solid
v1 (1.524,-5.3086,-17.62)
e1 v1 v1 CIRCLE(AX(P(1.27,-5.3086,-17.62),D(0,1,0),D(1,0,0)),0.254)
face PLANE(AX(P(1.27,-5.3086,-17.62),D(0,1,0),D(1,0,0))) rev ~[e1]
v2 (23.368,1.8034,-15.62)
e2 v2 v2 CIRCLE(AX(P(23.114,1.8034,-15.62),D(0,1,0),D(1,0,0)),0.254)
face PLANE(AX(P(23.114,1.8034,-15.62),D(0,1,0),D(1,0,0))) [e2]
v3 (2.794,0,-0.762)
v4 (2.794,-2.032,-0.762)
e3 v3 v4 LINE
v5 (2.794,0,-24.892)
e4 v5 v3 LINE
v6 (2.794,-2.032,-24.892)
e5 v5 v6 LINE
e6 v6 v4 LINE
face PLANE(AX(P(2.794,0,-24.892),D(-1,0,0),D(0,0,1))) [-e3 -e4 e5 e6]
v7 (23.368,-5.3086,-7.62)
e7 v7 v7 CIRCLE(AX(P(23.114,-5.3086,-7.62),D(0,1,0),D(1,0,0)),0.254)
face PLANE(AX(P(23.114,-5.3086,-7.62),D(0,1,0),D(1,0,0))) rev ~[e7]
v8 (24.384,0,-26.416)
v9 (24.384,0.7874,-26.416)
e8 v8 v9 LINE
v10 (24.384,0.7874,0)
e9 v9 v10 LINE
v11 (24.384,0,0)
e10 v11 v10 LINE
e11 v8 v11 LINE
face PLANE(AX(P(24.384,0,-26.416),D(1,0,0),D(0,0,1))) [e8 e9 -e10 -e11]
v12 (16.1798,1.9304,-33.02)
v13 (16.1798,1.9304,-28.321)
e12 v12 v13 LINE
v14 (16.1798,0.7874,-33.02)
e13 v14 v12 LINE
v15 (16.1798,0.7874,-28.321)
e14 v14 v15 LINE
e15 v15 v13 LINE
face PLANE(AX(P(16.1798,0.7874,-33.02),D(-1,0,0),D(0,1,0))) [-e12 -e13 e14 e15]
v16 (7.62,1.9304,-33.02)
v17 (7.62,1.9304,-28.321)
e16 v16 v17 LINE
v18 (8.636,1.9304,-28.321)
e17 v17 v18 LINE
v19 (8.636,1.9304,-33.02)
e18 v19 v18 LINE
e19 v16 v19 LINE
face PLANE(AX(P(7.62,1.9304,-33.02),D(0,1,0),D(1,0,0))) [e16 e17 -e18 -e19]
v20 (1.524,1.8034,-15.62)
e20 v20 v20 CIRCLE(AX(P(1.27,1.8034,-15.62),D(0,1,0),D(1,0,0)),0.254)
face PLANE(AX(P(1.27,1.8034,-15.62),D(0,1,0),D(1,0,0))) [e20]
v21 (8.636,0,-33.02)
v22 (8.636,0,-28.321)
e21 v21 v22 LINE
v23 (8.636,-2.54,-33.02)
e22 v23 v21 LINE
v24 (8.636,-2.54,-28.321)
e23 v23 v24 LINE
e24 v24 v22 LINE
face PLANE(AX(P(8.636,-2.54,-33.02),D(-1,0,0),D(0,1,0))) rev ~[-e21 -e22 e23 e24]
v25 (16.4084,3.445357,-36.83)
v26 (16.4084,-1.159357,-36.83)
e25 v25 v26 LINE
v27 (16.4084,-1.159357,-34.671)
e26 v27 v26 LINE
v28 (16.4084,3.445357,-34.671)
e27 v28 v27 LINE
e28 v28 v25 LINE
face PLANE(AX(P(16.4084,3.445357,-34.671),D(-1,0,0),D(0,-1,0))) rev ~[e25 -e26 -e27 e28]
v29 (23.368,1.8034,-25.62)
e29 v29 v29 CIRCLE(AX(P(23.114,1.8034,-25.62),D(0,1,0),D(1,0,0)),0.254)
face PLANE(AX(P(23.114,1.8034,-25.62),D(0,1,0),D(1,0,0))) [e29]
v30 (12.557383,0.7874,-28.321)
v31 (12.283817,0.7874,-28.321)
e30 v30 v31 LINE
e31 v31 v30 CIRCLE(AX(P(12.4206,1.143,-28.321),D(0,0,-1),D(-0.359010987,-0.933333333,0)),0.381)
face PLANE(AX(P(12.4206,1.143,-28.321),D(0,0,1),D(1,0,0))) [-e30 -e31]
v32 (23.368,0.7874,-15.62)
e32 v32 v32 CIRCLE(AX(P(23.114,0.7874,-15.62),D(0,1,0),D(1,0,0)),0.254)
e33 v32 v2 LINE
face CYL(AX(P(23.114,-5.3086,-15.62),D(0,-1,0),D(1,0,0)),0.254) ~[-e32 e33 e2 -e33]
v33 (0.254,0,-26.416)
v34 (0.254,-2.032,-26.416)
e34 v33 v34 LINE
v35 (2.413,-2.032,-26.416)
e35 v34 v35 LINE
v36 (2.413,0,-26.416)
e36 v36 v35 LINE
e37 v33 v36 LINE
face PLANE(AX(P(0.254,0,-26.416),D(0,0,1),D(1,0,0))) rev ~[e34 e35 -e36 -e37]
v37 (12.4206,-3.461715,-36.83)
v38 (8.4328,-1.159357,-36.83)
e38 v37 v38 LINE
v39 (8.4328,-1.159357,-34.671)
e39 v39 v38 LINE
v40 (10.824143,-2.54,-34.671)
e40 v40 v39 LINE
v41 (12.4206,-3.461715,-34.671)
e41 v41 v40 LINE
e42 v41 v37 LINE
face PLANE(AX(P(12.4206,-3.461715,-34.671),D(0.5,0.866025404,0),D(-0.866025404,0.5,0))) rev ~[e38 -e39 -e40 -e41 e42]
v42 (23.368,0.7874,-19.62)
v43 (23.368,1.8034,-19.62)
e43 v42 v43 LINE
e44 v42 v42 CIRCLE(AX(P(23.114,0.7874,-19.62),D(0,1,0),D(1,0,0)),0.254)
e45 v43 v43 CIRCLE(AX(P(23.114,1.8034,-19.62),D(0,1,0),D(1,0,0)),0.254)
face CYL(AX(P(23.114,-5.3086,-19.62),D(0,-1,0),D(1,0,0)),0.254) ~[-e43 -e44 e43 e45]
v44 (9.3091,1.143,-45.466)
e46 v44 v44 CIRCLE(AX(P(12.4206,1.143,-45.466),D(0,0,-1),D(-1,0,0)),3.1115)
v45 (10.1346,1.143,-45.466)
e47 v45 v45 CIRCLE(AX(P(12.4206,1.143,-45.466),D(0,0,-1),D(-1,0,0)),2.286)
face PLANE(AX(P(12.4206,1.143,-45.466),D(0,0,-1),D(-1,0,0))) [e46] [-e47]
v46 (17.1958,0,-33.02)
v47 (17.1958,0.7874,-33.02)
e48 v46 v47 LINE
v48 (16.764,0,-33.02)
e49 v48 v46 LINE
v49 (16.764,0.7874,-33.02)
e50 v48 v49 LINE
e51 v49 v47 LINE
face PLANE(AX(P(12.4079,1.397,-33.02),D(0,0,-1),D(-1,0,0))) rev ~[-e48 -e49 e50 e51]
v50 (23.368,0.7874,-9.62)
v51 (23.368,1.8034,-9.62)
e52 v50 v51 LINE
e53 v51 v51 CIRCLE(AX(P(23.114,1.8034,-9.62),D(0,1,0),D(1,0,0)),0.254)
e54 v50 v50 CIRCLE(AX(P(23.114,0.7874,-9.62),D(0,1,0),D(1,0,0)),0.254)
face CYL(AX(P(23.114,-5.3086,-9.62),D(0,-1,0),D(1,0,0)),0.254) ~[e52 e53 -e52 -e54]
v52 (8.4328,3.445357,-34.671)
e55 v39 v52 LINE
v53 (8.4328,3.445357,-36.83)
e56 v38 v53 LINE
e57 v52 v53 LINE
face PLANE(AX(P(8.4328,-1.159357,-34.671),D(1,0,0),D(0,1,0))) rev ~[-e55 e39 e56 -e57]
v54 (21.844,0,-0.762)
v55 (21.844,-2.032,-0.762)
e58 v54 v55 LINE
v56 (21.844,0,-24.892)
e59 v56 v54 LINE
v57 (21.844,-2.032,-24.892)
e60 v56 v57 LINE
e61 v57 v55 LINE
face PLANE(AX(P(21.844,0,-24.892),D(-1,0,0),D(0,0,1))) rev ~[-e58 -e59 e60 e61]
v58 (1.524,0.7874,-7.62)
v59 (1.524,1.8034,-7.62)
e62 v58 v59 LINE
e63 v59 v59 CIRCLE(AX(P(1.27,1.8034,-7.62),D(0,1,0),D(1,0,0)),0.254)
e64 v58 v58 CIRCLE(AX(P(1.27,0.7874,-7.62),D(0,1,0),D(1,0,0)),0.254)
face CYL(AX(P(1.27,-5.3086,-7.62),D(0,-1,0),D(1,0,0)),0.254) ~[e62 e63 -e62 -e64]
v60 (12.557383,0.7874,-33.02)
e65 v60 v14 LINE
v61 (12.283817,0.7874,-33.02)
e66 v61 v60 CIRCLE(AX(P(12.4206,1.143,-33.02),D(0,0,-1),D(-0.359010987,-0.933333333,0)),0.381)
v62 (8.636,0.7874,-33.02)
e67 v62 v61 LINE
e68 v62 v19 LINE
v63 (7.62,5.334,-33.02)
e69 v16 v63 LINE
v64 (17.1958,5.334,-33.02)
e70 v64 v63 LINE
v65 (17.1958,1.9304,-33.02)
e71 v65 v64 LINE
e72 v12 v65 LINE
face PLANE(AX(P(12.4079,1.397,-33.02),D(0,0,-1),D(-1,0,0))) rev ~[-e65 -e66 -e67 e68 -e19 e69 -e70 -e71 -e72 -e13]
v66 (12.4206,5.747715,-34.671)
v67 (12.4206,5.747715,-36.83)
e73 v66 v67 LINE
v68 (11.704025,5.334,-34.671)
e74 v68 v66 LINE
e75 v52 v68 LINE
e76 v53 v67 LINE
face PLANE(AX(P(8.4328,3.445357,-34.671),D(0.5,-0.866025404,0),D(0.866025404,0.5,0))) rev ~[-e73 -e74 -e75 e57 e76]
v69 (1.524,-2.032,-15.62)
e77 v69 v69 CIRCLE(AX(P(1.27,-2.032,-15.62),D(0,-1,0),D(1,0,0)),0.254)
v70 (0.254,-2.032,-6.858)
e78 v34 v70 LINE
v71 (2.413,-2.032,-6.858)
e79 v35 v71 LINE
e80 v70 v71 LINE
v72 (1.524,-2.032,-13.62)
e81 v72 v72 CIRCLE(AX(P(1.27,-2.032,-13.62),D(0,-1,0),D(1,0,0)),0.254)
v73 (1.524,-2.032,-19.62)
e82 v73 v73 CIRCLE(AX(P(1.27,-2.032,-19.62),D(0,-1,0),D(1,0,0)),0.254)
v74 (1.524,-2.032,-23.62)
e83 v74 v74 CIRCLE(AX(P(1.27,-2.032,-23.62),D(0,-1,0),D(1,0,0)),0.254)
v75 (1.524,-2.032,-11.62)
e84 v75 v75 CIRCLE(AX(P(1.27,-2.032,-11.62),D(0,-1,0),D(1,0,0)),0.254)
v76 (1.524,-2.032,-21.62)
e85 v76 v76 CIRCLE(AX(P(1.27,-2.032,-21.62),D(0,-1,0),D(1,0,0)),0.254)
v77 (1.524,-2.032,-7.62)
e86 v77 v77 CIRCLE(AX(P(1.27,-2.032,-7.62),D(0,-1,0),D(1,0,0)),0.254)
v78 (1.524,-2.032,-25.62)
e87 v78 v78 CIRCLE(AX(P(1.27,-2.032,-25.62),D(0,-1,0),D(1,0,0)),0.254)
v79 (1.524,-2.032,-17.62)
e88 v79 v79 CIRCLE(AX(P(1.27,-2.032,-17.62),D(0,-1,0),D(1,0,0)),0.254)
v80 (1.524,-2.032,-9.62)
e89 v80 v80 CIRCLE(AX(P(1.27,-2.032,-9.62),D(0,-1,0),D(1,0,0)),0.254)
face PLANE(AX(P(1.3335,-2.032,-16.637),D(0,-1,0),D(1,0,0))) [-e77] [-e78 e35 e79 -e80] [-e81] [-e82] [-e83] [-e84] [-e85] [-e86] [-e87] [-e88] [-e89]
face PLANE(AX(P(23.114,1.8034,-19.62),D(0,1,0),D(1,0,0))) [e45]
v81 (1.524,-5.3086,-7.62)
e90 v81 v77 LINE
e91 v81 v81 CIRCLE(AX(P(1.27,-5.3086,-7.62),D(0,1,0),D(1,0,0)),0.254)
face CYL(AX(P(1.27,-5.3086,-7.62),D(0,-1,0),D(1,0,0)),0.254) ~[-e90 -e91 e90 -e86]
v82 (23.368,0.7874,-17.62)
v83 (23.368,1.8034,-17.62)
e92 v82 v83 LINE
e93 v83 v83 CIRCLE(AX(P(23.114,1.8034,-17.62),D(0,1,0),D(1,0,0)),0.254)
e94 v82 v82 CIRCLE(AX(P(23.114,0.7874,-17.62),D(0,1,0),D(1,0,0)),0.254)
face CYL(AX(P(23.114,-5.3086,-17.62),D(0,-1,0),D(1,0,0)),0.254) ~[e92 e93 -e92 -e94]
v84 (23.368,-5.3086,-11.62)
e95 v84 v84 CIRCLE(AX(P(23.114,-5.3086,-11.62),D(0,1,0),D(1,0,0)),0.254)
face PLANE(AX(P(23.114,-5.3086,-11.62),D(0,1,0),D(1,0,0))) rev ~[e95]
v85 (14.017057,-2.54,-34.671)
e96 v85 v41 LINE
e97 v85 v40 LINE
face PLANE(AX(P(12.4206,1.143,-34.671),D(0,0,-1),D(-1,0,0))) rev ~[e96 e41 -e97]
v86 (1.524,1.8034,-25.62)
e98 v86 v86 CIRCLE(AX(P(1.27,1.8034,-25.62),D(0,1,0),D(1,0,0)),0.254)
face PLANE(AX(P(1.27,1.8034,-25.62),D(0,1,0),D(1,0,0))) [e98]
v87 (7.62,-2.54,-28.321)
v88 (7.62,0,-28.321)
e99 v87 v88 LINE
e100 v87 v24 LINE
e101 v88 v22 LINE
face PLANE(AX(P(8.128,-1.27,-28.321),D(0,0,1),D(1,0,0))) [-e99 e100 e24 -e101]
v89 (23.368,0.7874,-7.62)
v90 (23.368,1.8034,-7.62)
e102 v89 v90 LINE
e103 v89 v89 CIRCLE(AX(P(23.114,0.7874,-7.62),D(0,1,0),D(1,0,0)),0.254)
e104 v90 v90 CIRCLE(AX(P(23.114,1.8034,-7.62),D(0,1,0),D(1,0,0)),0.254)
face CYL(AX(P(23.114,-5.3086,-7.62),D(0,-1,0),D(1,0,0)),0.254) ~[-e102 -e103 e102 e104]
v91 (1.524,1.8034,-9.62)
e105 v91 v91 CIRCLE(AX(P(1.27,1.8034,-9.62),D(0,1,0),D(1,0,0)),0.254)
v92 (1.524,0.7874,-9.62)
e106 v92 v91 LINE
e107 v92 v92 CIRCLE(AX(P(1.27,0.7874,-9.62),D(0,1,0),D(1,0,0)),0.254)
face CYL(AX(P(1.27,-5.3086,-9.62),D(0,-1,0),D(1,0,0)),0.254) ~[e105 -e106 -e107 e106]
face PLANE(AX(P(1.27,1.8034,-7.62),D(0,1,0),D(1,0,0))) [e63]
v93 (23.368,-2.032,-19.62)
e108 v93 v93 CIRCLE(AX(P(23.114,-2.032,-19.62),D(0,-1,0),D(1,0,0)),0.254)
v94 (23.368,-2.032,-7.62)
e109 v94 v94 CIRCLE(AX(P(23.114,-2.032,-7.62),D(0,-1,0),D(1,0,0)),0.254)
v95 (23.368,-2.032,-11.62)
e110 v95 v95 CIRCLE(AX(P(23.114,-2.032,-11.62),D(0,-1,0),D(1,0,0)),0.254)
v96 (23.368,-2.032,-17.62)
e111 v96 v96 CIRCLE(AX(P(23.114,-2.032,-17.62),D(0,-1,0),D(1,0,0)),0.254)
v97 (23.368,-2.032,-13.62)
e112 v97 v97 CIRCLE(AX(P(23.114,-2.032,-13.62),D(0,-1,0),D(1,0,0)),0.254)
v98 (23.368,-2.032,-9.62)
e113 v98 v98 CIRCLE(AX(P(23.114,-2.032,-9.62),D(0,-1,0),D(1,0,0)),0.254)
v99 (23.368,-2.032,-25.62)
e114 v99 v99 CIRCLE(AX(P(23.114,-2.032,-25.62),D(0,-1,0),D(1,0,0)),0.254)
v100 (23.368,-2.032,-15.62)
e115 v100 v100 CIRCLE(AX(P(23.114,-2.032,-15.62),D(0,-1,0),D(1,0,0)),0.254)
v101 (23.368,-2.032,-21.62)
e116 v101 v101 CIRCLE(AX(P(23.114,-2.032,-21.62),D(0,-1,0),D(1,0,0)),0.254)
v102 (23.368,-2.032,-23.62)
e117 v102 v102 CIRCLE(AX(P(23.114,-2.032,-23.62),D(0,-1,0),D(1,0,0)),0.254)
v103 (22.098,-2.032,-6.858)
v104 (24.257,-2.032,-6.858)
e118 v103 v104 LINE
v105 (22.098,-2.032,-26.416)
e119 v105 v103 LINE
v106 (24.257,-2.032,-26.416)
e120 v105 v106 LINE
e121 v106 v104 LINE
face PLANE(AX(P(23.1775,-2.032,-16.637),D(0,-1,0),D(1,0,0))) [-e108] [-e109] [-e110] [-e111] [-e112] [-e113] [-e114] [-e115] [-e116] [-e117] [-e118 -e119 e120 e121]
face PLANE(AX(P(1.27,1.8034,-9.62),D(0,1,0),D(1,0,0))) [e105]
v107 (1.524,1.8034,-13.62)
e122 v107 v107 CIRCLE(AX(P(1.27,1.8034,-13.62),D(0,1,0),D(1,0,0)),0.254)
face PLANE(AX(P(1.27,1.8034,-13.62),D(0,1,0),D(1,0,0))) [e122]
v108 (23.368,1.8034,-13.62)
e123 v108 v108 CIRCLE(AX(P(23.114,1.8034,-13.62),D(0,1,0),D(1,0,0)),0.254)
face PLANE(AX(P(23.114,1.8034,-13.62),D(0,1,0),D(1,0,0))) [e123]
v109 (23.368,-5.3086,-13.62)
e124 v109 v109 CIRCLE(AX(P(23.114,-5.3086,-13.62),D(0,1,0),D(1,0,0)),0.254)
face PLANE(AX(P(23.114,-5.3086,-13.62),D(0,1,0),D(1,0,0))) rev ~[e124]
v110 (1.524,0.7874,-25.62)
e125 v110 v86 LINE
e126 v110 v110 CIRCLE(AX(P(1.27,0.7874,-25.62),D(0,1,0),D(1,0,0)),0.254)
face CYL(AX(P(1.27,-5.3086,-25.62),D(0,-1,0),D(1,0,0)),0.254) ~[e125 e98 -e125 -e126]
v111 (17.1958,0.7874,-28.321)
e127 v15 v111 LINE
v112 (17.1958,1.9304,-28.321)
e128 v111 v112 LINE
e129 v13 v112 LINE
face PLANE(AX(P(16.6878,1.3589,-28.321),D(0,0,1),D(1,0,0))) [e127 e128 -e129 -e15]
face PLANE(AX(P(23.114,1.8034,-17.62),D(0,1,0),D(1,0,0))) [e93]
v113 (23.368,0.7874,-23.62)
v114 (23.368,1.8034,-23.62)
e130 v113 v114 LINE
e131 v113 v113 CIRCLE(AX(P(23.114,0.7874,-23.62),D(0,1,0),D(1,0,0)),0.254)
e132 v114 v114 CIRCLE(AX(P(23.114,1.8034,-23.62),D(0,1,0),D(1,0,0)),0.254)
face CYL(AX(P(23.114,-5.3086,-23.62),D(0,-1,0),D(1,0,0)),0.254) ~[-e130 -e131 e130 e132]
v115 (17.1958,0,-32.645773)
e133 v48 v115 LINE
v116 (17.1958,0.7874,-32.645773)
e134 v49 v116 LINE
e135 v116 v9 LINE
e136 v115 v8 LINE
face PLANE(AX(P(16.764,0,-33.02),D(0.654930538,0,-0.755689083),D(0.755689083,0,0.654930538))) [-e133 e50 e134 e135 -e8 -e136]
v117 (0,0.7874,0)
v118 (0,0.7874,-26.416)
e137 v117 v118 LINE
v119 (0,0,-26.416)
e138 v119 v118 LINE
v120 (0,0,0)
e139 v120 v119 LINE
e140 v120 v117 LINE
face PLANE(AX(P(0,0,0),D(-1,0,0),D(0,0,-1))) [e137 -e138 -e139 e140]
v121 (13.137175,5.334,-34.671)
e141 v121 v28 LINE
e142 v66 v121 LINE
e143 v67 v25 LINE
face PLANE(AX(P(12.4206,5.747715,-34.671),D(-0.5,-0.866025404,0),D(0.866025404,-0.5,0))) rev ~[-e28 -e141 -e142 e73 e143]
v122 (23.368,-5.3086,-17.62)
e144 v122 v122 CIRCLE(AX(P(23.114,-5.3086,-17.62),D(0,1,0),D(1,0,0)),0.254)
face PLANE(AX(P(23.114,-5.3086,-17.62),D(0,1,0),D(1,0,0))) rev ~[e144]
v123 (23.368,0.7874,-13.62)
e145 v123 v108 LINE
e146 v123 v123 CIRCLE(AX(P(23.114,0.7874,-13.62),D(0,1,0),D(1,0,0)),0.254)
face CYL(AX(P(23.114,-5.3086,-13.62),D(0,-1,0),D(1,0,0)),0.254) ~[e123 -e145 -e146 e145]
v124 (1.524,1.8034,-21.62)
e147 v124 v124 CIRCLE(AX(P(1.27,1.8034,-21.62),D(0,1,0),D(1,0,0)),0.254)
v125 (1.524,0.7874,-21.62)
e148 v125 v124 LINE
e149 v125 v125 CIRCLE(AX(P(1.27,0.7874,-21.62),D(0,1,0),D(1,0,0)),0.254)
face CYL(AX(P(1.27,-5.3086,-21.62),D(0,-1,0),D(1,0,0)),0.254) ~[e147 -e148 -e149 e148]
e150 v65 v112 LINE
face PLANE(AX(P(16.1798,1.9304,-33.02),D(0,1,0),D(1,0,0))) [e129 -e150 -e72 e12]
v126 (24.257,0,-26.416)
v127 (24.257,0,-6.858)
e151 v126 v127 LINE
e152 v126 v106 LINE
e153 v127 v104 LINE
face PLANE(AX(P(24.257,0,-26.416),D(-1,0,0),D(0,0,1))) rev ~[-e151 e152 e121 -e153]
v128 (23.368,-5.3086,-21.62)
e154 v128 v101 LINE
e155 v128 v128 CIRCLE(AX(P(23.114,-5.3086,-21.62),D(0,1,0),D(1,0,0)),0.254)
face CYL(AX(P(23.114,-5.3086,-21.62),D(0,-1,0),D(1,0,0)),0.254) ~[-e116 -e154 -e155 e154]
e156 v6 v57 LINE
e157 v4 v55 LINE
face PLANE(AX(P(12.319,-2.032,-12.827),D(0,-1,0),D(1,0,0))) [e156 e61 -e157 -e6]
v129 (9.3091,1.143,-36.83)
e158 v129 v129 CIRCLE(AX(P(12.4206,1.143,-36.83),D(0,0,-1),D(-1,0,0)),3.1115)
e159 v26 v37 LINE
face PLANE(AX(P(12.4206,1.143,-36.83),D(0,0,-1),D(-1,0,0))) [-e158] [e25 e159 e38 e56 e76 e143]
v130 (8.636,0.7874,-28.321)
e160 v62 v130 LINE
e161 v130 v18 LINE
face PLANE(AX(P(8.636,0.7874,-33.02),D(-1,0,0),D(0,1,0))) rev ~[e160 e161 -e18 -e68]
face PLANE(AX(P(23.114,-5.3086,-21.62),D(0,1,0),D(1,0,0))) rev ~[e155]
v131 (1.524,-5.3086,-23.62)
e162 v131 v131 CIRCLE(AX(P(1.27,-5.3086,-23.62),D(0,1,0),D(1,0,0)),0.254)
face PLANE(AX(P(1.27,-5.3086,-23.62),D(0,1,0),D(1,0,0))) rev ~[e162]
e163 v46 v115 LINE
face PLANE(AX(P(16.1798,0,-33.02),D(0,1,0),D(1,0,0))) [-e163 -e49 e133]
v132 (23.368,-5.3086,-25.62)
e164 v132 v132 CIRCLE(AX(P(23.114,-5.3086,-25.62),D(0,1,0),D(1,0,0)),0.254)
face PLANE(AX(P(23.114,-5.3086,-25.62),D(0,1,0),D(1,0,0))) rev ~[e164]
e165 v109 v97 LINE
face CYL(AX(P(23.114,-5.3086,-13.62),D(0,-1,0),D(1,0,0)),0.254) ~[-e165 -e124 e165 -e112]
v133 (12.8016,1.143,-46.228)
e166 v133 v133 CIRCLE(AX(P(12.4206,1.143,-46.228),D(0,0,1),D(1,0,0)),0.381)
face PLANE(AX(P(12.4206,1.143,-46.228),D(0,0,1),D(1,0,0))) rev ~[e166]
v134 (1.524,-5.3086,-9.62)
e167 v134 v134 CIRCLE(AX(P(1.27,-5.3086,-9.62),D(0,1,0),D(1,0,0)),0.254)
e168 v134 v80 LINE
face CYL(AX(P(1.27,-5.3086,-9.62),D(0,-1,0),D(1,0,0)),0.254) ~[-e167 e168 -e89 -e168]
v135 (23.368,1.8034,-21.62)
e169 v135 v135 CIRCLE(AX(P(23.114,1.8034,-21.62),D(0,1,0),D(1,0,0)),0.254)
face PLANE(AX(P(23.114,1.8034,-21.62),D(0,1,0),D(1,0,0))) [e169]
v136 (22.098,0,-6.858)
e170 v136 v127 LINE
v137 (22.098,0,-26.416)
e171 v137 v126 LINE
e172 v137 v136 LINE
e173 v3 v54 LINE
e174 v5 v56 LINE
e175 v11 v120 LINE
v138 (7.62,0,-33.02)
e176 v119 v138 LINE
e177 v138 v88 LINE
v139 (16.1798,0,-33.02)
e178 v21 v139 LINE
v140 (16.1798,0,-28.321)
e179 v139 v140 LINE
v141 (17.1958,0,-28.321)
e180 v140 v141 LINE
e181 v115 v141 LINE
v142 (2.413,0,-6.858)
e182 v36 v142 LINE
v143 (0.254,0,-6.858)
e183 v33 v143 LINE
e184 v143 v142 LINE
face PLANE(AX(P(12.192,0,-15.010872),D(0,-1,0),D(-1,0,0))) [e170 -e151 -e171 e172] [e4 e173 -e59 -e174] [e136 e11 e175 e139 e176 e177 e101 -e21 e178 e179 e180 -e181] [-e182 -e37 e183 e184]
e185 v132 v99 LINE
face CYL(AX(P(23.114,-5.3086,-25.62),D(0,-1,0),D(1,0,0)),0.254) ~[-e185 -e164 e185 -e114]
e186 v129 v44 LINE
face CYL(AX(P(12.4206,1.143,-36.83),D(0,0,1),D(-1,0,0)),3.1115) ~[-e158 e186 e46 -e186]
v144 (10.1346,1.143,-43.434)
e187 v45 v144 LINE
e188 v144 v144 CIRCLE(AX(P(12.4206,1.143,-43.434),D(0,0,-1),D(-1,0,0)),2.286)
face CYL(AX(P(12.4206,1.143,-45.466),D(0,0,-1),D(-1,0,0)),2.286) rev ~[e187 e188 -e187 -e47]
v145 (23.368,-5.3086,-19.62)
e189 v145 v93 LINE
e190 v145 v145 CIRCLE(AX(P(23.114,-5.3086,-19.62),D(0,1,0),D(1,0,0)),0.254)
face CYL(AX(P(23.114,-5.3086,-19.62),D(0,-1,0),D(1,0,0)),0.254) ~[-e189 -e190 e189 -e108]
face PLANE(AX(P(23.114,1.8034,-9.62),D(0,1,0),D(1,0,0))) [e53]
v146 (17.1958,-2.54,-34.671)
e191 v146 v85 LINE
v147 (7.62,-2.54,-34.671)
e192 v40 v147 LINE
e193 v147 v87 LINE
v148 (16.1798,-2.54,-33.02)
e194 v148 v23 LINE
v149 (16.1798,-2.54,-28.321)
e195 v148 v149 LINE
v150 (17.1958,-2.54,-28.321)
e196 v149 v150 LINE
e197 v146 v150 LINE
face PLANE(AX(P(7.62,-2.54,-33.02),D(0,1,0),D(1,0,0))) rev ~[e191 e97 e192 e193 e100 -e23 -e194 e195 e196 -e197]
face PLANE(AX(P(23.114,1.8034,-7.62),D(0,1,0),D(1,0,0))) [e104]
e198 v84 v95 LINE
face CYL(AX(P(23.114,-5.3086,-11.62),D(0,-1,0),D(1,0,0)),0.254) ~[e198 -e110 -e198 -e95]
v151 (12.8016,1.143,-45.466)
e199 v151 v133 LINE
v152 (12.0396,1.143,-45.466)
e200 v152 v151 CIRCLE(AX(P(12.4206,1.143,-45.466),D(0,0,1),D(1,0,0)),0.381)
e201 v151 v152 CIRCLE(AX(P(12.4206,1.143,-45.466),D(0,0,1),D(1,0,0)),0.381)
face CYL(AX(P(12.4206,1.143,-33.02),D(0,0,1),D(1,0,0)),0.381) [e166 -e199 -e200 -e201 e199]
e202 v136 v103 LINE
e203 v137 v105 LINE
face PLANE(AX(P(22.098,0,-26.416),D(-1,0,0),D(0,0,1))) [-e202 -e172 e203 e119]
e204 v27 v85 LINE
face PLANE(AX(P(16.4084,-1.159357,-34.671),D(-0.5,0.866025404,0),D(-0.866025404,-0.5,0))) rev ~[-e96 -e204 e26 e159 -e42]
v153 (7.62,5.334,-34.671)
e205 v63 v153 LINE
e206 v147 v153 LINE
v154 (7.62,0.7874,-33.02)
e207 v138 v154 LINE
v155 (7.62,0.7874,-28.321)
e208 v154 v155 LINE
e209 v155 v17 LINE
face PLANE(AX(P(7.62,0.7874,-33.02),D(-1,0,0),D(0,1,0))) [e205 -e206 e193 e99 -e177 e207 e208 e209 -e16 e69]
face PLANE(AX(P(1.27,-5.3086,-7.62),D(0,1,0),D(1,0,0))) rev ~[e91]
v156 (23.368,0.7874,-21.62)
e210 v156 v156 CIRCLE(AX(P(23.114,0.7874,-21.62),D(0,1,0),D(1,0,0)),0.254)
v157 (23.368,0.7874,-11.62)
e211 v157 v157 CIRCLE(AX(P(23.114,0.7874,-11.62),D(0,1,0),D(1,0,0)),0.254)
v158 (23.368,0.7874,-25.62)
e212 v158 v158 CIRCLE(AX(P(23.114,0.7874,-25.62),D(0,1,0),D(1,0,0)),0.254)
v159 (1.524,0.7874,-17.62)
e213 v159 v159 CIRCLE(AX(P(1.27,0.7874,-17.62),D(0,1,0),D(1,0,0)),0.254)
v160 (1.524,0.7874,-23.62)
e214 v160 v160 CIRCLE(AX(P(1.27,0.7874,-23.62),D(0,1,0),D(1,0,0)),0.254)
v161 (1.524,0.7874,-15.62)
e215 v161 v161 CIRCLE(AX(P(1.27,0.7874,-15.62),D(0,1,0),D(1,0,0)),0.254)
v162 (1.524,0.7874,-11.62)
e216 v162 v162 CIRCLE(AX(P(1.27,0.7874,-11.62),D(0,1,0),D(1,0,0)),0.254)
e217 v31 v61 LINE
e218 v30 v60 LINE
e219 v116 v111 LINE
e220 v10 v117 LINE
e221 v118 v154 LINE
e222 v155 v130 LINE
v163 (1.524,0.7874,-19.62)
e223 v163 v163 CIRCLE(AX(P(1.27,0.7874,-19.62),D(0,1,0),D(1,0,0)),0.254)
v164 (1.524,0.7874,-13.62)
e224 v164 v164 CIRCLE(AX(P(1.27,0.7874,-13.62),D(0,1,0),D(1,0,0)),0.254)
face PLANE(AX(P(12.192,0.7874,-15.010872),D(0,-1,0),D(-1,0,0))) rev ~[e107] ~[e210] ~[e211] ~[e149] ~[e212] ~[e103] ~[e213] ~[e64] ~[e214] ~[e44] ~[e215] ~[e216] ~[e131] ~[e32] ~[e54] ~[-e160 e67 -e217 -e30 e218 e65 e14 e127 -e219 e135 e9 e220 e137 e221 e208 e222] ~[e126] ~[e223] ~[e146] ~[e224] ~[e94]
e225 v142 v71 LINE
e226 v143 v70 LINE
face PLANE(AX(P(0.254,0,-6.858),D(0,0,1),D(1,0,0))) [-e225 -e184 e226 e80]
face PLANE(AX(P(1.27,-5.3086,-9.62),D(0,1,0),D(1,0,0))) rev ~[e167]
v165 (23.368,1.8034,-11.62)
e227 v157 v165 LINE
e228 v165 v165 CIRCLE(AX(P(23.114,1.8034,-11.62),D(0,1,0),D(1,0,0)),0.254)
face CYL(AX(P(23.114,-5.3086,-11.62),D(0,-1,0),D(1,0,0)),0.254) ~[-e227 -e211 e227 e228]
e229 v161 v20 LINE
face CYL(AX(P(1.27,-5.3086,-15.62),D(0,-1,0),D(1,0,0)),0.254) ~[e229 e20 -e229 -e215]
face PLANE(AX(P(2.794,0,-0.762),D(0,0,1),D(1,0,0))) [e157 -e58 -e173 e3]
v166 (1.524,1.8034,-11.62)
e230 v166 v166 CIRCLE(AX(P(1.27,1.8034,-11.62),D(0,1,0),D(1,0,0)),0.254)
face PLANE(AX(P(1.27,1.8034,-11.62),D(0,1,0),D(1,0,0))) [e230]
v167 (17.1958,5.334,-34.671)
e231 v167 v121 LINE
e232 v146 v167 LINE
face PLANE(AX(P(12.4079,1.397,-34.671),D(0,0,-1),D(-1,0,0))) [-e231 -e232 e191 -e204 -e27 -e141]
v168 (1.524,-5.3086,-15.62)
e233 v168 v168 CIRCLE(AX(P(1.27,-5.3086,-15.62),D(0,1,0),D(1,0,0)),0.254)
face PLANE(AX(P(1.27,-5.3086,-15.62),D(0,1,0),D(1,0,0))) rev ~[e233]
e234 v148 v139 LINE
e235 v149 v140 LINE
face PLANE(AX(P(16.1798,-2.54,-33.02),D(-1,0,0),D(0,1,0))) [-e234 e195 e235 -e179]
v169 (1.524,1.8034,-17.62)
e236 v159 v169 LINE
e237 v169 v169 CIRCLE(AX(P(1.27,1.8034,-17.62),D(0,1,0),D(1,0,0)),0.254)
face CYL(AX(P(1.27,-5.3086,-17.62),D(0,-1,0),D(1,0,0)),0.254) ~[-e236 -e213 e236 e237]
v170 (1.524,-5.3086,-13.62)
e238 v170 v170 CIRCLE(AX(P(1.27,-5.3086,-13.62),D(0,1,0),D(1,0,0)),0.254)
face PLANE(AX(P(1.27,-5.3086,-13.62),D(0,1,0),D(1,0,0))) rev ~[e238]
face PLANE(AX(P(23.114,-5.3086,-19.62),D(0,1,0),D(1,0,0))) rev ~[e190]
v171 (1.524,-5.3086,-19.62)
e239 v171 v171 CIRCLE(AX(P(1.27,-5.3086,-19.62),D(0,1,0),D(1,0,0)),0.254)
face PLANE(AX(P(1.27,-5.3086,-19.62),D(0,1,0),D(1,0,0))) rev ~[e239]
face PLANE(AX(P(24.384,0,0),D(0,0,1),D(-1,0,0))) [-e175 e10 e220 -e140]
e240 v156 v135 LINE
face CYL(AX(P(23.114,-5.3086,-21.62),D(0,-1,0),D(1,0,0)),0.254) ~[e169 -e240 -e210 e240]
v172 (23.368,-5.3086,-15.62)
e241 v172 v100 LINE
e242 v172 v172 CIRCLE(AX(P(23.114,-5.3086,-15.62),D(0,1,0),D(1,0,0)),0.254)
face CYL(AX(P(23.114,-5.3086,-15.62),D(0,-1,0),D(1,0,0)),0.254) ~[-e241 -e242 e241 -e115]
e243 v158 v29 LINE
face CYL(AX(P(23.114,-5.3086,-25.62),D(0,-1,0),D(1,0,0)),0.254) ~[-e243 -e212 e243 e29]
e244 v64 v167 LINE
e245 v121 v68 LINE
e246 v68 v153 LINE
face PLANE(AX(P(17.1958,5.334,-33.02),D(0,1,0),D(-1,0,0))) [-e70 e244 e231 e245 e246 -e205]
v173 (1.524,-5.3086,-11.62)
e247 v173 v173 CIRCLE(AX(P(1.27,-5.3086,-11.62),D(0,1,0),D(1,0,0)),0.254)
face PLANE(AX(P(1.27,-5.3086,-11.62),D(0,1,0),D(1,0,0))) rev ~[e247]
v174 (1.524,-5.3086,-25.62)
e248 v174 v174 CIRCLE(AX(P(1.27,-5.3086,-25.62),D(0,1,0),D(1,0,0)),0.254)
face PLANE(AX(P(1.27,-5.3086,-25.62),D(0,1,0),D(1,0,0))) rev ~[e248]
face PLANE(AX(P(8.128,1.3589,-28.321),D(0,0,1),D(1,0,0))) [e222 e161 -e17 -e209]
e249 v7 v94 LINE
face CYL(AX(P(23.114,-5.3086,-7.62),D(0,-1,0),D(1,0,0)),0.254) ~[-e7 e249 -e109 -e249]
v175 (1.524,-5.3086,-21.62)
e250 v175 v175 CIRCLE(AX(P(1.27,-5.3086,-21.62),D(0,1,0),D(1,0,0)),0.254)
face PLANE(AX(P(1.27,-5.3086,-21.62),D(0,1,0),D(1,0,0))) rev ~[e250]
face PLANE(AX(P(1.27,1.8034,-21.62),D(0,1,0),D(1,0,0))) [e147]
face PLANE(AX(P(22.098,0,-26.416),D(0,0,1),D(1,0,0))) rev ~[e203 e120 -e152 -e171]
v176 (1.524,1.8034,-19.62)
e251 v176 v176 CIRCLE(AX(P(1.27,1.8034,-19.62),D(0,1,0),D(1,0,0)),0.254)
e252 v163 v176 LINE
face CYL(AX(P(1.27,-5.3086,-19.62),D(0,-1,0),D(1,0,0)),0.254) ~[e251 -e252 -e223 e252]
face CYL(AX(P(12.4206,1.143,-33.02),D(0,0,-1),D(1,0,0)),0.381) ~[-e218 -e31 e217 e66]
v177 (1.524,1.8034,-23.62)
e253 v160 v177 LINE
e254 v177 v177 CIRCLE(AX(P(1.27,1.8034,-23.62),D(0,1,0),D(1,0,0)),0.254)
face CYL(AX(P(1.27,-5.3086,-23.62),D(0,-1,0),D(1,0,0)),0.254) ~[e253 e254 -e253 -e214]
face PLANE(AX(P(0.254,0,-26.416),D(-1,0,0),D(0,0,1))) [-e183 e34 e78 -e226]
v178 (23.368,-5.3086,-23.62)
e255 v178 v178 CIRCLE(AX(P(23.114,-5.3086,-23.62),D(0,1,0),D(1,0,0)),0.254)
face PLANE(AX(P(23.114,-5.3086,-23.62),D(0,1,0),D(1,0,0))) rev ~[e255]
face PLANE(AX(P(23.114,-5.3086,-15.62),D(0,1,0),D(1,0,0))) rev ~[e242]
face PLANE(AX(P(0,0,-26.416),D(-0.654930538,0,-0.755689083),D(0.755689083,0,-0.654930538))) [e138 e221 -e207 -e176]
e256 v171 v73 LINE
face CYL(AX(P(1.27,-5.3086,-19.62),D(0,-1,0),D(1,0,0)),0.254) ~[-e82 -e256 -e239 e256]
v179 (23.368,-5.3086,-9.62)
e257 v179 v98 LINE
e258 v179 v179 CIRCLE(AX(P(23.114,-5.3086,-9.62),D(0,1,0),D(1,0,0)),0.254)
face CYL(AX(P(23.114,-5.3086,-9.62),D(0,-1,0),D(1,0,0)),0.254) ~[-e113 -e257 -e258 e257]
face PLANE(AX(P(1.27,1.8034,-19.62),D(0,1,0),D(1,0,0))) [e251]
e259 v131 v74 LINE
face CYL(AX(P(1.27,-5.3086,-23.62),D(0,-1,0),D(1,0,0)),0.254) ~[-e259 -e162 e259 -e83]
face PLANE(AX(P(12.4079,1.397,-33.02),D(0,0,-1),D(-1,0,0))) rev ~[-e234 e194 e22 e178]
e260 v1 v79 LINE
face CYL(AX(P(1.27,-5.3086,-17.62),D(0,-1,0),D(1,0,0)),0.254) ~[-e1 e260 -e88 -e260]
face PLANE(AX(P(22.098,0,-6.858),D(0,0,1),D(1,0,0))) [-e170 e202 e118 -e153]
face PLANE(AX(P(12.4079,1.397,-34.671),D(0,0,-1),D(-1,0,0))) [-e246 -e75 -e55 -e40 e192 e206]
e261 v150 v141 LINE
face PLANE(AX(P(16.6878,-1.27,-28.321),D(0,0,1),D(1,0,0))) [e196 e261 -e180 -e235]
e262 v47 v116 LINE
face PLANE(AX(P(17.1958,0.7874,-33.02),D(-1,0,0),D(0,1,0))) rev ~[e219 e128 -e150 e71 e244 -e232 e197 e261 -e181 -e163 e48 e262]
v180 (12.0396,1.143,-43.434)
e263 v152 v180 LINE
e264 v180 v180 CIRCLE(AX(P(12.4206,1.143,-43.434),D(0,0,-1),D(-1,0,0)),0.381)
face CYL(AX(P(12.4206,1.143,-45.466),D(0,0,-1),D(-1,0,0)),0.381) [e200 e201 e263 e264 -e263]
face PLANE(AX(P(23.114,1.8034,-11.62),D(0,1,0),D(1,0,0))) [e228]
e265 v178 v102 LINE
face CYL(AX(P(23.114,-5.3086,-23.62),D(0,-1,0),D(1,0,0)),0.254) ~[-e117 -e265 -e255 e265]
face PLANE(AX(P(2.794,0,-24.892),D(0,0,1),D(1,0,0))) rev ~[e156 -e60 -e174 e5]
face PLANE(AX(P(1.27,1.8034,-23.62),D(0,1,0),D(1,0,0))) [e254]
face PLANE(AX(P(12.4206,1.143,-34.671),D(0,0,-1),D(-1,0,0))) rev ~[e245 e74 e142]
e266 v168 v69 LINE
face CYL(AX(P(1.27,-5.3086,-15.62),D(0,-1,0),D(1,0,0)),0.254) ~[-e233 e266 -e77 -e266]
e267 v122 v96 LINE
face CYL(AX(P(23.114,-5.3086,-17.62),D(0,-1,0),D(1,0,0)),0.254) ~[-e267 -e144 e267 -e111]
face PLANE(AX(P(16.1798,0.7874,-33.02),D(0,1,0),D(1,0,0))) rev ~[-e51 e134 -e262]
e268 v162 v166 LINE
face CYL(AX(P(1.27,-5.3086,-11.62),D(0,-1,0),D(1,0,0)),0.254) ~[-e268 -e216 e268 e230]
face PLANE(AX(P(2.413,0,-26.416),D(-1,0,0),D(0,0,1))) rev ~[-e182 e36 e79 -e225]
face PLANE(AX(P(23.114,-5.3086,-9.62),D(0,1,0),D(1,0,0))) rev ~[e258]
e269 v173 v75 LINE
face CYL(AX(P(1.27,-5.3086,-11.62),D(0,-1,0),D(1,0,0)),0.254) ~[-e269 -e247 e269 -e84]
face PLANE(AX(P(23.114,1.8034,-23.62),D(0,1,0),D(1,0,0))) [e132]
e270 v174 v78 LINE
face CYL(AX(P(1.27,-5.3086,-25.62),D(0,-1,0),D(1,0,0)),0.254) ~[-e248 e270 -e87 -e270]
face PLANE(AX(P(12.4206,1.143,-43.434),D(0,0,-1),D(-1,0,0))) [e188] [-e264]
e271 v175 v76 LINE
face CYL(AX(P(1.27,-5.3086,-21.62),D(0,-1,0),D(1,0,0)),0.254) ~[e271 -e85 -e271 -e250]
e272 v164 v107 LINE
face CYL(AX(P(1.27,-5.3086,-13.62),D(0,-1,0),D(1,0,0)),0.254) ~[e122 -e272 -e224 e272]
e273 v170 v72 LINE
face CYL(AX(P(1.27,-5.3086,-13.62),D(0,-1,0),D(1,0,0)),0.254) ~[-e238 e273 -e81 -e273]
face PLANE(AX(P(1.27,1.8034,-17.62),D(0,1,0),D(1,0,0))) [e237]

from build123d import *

# Parameters (mm, degrees)
BASE_PCB_DEPTH                      = 0.7874
SKETCH2_R                           = 0.254
HEADER_HOLE_DEPTH                   = 1.7874
F_2MM_HEADER_PATTERN_COUNT          = 10
F_2MM_HEADER_PATTERN_PITCH          = 2
F_2MM_HEADER_PATTERN_COUNT_DIR2     = 2
F_2MM_HEADER_PATTERN_PITCH_DIR2     = 21.844
SKETCH3_W                           = 19.05
SKETCH3_H                           = 24.13
WIRELESS_MODULE_DEPTH               = 2.032
HEADER_START                        = -6.096
SKETCH12_R                          = 0.254
HEADER_PIN_DEPTH                    = 7.112
F_2MM_HEADER_PIN_PATTERN_COUNT      = 10
F_2MM_HEADER_PIN_PATTERN_PITCH      = 2
F_2MM_HEADER_PIN_PATTERN_COUNT_DIR2 = 2
F_2MM_HEADER_PIN_PATTERN_PITCH_DIR2 = 21.844
SKETCH13_W                          = 2.159
SKETCH13_H                          = 19.558
HEADER_BOSS_DEPTH                   = 2.032
HEADER_BOSS_PATTERN_COUNT           = 2
HEADER_BOSS_PATTERN_PITCH           = 21.844
SKETCH4_W                           = 9.5758
SKETCH4_H                           = 7.874
SMA_BASE_DEPTH                      = 1.651
SKETCH5_W                           = 1.016
SKETCH5_H                           = 2.54
SMA_PRONGS_BOTTOM_DEPTH             = 4.699
SKETCH6_W                           = 1.016
SKETCH6_H                           = 1.143
SMA_PRONGS_TOP_DEPTH                = 4.699
SKETCH7_R                           = 0.381
SMA_CENTER_PIN_DEPTH                = 4.699
SMA_CENTER_PIN_DEPTH_BACK           = 13.208
SMA_NUT_DEPTH                       = 2.159
SKETCH10_R                          = 3.1115
RPSMA_BARREL_DEPTH                  = 8.636
SKETCH11_R                          = 2.286
SKETCH11_R_2                        = 0.381
CUT_EXTRUDE4_DEPTH                  = 2.032


with BuildPart() as part:
    # Sketch1 → Base PCB (new body)
    with BuildSketch(Plane(origin=(0, 0, 0), x_dir=(1, 0, 0), z_dir=(0, 1, 0))):
        Polygon((0, 26.416), (7.62, 33.02), (16.764, 33.02), (24.384, 26.416), (24.384, 0), (0, 0), align=None)
    extrude(amount=BASE_PCB_DEPTH)

    # Sketch2 → Header Hole (cut, through all)
    with BuildSketch(Plane(origin=(0, 0.7874, 0), x_dir=(1, 0, 0), z_dir=(0, 1, 0))):
        with Locations((1.27, 7.62)):
            Circle(SKETCH2_R)
    header_hole = extrude(amount=-HEADER_HOLE_DEPTH, mode=Mode.SUBTRACT)

    # 2mm Header pattern: Header Hole 10 × 2
    with Locations(*[(j * F_2MM_HEADER_PATTERN_PITCH_DIR2, 0, -i * F_2MM_HEADER_PATTERN_PITCH) for i in range(F_2MM_HEADER_PATTERN_COUNT) for j in range(F_2MM_HEADER_PATTERN_COUNT_DIR2) if (i, j) != (0, 0)]):
        add(header_hole, mode=Mode.SUBTRACT)

    # Sketch3 → Wireless Module (add)
    with BuildSketch(Plane.XZ):
        with Locations((12.319, -12.827)):
            Rectangle(SKETCH3_W, SKETCH3_H)
    extrude(amount=WIRELESS_MODULE_DEPTH)

    # Sketch12 → Header Pin (add)
    with BuildSketch(Plane(origin=(0, 0.7874, 0), x_dir=(1, 0, 0), z_dir=(0, 1, 0)).offset(HEADER_START)):
        with Locations((1.27, 7.62)):
            Circle(SKETCH12_R)
    header_pin = extrude(amount=HEADER_PIN_DEPTH)

    # 2mm Header Pin pattern: Header Pin 10 × 2
    with Locations(*[(j * F_2MM_HEADER_PIN_PATTERN_PITCH_DIR2, 0, -i * F_2MM_HEADER_PIN_PATTERN_PITCH) for i in range(F_2MM_HEADER_PIN_PATTERN_COUNT) for j in range(F_2MM_HEADER_PIN_PATTERN_COUNT_DIR2) if (i, j) != (0, 0)]):
        add(header_pin)

    # Sketch13 → Header Boss (add)
    with BuildSketch(Plane.XZ):
        with Locations((23.1775, -16.637)):
            Rectangle(SKETCH13_W, SKETCH13_H)
    header_boss = extrude(amount=HEADER_BOSS_DEPTH)

    # Header Boss pattern: Header Boss ×2
    with Locations(*[(-i * HEADER_BOSS_PATTERN_PITCH, 0, 0) for i in range(1, HEADER_BOSS_PATTERN_COUNT)]):
        add(header_boss)

    # Sketch4 → SMA Base (add)
    with BuildSketch(Plane(origin=(0, 0, -33.02), x_dir=(-1, 0, 0), z_dir=(0, 0, -1))):
        with Locations((-12.4079, 1.397)):
            Rectangle(SKETCH4_W, SKETCH4_H)
    extrude(amount=SMA_BASE_DEPTH)

    # Sketch5 → SMA Prongs-bottom (add)
    with BuildSketch(Plane.XY.offset(-33.02)):
        with Locations((8.128, -1.27)):
            Rectangle(SKETCH5_W, SKETCH5_H)
        with Locations((16.6878, -1.27)):
            Rectangle(SKETCH5_W, SKETCH5_H)
    extrude(amount=SMA_PRONGS_BOTTOM_DEPTH)

    # Sketch6 → SMA Prongs-top (add)
    with BuildSketch(Plane.XY.offset(-33.02)):
        with Locations((8.128, 1.3589)):
            Rectangle(SKETCH6_W, SKETCH6_H)
        with Locations((16.6878, 1.3589)):
            Rectangle(SKETCH6_W, SKETCH6_H)
    extrude(amount=SMA_PRONGS_TOP_DEPTH)

    # Sketch7 → SMA Center Pin (add, two sides)
    with BuildSketch(Plane.XY.offset(-33.02)) as sma_center_pin_sk:
        with Locations((12.4206, 1.143)):
            Circle(SKETCH7_R)
    extrude(amount=SMA_CENTER_PIN_DEPTH)
    extrude(sma_center_pin_sk.sketch, amount=-SMA_CENTER_PIN_DEPTH_BACK)

    # Sketch9 → SMA Nut (add)
    with BuildSketch(Plane(origin=(0, 0, -34.671), x_dir=(-1, 0, 0), z_dir=(0, 0, -1))):
        Polygon((-12.4206, 5.747714807), (-16.4084, 3.445357403), (-16.4084, -1.159357403), (-12.4206, -3.461714807), (-8.4328, -1.159357403), (-8.4328, 3.445357403), align=None)
    extrude(amount=SMA_NUT_DEPTH)

    # Sketch10 → RPSMA Barrel (add)
    with BuildSketch(Plane(origin=(0, 0, -36.83), x_dir=(-1, 0, 0), z_dir=(0, 0, -1))):
        with Locations((-12.4206, 1.143)):
            Circle(SKETCH10_R)
    extrude(amount=RPSMA_BARREL_DEPTH)

    # Sketch11 → Cut-Extrude4 (cut)
    with BuildSketch(Plane(origin=(0, 0, -45.466), x_dir=(-1, 0, 0), z_dir=(0, 0, -1))):
        with Locations((-12.4206, 1.143)):
            Circle(SKETCH11_R)
        with Locations((-12.4206, 1.143)):
            Circle(SKETCH11_R_2, mode=Mode.SUBTRACT)
    extrude(amount=-CUT_EXTRUDE4_DEPTH, mode=Mode.SUBTRACT)


solid = part.part
